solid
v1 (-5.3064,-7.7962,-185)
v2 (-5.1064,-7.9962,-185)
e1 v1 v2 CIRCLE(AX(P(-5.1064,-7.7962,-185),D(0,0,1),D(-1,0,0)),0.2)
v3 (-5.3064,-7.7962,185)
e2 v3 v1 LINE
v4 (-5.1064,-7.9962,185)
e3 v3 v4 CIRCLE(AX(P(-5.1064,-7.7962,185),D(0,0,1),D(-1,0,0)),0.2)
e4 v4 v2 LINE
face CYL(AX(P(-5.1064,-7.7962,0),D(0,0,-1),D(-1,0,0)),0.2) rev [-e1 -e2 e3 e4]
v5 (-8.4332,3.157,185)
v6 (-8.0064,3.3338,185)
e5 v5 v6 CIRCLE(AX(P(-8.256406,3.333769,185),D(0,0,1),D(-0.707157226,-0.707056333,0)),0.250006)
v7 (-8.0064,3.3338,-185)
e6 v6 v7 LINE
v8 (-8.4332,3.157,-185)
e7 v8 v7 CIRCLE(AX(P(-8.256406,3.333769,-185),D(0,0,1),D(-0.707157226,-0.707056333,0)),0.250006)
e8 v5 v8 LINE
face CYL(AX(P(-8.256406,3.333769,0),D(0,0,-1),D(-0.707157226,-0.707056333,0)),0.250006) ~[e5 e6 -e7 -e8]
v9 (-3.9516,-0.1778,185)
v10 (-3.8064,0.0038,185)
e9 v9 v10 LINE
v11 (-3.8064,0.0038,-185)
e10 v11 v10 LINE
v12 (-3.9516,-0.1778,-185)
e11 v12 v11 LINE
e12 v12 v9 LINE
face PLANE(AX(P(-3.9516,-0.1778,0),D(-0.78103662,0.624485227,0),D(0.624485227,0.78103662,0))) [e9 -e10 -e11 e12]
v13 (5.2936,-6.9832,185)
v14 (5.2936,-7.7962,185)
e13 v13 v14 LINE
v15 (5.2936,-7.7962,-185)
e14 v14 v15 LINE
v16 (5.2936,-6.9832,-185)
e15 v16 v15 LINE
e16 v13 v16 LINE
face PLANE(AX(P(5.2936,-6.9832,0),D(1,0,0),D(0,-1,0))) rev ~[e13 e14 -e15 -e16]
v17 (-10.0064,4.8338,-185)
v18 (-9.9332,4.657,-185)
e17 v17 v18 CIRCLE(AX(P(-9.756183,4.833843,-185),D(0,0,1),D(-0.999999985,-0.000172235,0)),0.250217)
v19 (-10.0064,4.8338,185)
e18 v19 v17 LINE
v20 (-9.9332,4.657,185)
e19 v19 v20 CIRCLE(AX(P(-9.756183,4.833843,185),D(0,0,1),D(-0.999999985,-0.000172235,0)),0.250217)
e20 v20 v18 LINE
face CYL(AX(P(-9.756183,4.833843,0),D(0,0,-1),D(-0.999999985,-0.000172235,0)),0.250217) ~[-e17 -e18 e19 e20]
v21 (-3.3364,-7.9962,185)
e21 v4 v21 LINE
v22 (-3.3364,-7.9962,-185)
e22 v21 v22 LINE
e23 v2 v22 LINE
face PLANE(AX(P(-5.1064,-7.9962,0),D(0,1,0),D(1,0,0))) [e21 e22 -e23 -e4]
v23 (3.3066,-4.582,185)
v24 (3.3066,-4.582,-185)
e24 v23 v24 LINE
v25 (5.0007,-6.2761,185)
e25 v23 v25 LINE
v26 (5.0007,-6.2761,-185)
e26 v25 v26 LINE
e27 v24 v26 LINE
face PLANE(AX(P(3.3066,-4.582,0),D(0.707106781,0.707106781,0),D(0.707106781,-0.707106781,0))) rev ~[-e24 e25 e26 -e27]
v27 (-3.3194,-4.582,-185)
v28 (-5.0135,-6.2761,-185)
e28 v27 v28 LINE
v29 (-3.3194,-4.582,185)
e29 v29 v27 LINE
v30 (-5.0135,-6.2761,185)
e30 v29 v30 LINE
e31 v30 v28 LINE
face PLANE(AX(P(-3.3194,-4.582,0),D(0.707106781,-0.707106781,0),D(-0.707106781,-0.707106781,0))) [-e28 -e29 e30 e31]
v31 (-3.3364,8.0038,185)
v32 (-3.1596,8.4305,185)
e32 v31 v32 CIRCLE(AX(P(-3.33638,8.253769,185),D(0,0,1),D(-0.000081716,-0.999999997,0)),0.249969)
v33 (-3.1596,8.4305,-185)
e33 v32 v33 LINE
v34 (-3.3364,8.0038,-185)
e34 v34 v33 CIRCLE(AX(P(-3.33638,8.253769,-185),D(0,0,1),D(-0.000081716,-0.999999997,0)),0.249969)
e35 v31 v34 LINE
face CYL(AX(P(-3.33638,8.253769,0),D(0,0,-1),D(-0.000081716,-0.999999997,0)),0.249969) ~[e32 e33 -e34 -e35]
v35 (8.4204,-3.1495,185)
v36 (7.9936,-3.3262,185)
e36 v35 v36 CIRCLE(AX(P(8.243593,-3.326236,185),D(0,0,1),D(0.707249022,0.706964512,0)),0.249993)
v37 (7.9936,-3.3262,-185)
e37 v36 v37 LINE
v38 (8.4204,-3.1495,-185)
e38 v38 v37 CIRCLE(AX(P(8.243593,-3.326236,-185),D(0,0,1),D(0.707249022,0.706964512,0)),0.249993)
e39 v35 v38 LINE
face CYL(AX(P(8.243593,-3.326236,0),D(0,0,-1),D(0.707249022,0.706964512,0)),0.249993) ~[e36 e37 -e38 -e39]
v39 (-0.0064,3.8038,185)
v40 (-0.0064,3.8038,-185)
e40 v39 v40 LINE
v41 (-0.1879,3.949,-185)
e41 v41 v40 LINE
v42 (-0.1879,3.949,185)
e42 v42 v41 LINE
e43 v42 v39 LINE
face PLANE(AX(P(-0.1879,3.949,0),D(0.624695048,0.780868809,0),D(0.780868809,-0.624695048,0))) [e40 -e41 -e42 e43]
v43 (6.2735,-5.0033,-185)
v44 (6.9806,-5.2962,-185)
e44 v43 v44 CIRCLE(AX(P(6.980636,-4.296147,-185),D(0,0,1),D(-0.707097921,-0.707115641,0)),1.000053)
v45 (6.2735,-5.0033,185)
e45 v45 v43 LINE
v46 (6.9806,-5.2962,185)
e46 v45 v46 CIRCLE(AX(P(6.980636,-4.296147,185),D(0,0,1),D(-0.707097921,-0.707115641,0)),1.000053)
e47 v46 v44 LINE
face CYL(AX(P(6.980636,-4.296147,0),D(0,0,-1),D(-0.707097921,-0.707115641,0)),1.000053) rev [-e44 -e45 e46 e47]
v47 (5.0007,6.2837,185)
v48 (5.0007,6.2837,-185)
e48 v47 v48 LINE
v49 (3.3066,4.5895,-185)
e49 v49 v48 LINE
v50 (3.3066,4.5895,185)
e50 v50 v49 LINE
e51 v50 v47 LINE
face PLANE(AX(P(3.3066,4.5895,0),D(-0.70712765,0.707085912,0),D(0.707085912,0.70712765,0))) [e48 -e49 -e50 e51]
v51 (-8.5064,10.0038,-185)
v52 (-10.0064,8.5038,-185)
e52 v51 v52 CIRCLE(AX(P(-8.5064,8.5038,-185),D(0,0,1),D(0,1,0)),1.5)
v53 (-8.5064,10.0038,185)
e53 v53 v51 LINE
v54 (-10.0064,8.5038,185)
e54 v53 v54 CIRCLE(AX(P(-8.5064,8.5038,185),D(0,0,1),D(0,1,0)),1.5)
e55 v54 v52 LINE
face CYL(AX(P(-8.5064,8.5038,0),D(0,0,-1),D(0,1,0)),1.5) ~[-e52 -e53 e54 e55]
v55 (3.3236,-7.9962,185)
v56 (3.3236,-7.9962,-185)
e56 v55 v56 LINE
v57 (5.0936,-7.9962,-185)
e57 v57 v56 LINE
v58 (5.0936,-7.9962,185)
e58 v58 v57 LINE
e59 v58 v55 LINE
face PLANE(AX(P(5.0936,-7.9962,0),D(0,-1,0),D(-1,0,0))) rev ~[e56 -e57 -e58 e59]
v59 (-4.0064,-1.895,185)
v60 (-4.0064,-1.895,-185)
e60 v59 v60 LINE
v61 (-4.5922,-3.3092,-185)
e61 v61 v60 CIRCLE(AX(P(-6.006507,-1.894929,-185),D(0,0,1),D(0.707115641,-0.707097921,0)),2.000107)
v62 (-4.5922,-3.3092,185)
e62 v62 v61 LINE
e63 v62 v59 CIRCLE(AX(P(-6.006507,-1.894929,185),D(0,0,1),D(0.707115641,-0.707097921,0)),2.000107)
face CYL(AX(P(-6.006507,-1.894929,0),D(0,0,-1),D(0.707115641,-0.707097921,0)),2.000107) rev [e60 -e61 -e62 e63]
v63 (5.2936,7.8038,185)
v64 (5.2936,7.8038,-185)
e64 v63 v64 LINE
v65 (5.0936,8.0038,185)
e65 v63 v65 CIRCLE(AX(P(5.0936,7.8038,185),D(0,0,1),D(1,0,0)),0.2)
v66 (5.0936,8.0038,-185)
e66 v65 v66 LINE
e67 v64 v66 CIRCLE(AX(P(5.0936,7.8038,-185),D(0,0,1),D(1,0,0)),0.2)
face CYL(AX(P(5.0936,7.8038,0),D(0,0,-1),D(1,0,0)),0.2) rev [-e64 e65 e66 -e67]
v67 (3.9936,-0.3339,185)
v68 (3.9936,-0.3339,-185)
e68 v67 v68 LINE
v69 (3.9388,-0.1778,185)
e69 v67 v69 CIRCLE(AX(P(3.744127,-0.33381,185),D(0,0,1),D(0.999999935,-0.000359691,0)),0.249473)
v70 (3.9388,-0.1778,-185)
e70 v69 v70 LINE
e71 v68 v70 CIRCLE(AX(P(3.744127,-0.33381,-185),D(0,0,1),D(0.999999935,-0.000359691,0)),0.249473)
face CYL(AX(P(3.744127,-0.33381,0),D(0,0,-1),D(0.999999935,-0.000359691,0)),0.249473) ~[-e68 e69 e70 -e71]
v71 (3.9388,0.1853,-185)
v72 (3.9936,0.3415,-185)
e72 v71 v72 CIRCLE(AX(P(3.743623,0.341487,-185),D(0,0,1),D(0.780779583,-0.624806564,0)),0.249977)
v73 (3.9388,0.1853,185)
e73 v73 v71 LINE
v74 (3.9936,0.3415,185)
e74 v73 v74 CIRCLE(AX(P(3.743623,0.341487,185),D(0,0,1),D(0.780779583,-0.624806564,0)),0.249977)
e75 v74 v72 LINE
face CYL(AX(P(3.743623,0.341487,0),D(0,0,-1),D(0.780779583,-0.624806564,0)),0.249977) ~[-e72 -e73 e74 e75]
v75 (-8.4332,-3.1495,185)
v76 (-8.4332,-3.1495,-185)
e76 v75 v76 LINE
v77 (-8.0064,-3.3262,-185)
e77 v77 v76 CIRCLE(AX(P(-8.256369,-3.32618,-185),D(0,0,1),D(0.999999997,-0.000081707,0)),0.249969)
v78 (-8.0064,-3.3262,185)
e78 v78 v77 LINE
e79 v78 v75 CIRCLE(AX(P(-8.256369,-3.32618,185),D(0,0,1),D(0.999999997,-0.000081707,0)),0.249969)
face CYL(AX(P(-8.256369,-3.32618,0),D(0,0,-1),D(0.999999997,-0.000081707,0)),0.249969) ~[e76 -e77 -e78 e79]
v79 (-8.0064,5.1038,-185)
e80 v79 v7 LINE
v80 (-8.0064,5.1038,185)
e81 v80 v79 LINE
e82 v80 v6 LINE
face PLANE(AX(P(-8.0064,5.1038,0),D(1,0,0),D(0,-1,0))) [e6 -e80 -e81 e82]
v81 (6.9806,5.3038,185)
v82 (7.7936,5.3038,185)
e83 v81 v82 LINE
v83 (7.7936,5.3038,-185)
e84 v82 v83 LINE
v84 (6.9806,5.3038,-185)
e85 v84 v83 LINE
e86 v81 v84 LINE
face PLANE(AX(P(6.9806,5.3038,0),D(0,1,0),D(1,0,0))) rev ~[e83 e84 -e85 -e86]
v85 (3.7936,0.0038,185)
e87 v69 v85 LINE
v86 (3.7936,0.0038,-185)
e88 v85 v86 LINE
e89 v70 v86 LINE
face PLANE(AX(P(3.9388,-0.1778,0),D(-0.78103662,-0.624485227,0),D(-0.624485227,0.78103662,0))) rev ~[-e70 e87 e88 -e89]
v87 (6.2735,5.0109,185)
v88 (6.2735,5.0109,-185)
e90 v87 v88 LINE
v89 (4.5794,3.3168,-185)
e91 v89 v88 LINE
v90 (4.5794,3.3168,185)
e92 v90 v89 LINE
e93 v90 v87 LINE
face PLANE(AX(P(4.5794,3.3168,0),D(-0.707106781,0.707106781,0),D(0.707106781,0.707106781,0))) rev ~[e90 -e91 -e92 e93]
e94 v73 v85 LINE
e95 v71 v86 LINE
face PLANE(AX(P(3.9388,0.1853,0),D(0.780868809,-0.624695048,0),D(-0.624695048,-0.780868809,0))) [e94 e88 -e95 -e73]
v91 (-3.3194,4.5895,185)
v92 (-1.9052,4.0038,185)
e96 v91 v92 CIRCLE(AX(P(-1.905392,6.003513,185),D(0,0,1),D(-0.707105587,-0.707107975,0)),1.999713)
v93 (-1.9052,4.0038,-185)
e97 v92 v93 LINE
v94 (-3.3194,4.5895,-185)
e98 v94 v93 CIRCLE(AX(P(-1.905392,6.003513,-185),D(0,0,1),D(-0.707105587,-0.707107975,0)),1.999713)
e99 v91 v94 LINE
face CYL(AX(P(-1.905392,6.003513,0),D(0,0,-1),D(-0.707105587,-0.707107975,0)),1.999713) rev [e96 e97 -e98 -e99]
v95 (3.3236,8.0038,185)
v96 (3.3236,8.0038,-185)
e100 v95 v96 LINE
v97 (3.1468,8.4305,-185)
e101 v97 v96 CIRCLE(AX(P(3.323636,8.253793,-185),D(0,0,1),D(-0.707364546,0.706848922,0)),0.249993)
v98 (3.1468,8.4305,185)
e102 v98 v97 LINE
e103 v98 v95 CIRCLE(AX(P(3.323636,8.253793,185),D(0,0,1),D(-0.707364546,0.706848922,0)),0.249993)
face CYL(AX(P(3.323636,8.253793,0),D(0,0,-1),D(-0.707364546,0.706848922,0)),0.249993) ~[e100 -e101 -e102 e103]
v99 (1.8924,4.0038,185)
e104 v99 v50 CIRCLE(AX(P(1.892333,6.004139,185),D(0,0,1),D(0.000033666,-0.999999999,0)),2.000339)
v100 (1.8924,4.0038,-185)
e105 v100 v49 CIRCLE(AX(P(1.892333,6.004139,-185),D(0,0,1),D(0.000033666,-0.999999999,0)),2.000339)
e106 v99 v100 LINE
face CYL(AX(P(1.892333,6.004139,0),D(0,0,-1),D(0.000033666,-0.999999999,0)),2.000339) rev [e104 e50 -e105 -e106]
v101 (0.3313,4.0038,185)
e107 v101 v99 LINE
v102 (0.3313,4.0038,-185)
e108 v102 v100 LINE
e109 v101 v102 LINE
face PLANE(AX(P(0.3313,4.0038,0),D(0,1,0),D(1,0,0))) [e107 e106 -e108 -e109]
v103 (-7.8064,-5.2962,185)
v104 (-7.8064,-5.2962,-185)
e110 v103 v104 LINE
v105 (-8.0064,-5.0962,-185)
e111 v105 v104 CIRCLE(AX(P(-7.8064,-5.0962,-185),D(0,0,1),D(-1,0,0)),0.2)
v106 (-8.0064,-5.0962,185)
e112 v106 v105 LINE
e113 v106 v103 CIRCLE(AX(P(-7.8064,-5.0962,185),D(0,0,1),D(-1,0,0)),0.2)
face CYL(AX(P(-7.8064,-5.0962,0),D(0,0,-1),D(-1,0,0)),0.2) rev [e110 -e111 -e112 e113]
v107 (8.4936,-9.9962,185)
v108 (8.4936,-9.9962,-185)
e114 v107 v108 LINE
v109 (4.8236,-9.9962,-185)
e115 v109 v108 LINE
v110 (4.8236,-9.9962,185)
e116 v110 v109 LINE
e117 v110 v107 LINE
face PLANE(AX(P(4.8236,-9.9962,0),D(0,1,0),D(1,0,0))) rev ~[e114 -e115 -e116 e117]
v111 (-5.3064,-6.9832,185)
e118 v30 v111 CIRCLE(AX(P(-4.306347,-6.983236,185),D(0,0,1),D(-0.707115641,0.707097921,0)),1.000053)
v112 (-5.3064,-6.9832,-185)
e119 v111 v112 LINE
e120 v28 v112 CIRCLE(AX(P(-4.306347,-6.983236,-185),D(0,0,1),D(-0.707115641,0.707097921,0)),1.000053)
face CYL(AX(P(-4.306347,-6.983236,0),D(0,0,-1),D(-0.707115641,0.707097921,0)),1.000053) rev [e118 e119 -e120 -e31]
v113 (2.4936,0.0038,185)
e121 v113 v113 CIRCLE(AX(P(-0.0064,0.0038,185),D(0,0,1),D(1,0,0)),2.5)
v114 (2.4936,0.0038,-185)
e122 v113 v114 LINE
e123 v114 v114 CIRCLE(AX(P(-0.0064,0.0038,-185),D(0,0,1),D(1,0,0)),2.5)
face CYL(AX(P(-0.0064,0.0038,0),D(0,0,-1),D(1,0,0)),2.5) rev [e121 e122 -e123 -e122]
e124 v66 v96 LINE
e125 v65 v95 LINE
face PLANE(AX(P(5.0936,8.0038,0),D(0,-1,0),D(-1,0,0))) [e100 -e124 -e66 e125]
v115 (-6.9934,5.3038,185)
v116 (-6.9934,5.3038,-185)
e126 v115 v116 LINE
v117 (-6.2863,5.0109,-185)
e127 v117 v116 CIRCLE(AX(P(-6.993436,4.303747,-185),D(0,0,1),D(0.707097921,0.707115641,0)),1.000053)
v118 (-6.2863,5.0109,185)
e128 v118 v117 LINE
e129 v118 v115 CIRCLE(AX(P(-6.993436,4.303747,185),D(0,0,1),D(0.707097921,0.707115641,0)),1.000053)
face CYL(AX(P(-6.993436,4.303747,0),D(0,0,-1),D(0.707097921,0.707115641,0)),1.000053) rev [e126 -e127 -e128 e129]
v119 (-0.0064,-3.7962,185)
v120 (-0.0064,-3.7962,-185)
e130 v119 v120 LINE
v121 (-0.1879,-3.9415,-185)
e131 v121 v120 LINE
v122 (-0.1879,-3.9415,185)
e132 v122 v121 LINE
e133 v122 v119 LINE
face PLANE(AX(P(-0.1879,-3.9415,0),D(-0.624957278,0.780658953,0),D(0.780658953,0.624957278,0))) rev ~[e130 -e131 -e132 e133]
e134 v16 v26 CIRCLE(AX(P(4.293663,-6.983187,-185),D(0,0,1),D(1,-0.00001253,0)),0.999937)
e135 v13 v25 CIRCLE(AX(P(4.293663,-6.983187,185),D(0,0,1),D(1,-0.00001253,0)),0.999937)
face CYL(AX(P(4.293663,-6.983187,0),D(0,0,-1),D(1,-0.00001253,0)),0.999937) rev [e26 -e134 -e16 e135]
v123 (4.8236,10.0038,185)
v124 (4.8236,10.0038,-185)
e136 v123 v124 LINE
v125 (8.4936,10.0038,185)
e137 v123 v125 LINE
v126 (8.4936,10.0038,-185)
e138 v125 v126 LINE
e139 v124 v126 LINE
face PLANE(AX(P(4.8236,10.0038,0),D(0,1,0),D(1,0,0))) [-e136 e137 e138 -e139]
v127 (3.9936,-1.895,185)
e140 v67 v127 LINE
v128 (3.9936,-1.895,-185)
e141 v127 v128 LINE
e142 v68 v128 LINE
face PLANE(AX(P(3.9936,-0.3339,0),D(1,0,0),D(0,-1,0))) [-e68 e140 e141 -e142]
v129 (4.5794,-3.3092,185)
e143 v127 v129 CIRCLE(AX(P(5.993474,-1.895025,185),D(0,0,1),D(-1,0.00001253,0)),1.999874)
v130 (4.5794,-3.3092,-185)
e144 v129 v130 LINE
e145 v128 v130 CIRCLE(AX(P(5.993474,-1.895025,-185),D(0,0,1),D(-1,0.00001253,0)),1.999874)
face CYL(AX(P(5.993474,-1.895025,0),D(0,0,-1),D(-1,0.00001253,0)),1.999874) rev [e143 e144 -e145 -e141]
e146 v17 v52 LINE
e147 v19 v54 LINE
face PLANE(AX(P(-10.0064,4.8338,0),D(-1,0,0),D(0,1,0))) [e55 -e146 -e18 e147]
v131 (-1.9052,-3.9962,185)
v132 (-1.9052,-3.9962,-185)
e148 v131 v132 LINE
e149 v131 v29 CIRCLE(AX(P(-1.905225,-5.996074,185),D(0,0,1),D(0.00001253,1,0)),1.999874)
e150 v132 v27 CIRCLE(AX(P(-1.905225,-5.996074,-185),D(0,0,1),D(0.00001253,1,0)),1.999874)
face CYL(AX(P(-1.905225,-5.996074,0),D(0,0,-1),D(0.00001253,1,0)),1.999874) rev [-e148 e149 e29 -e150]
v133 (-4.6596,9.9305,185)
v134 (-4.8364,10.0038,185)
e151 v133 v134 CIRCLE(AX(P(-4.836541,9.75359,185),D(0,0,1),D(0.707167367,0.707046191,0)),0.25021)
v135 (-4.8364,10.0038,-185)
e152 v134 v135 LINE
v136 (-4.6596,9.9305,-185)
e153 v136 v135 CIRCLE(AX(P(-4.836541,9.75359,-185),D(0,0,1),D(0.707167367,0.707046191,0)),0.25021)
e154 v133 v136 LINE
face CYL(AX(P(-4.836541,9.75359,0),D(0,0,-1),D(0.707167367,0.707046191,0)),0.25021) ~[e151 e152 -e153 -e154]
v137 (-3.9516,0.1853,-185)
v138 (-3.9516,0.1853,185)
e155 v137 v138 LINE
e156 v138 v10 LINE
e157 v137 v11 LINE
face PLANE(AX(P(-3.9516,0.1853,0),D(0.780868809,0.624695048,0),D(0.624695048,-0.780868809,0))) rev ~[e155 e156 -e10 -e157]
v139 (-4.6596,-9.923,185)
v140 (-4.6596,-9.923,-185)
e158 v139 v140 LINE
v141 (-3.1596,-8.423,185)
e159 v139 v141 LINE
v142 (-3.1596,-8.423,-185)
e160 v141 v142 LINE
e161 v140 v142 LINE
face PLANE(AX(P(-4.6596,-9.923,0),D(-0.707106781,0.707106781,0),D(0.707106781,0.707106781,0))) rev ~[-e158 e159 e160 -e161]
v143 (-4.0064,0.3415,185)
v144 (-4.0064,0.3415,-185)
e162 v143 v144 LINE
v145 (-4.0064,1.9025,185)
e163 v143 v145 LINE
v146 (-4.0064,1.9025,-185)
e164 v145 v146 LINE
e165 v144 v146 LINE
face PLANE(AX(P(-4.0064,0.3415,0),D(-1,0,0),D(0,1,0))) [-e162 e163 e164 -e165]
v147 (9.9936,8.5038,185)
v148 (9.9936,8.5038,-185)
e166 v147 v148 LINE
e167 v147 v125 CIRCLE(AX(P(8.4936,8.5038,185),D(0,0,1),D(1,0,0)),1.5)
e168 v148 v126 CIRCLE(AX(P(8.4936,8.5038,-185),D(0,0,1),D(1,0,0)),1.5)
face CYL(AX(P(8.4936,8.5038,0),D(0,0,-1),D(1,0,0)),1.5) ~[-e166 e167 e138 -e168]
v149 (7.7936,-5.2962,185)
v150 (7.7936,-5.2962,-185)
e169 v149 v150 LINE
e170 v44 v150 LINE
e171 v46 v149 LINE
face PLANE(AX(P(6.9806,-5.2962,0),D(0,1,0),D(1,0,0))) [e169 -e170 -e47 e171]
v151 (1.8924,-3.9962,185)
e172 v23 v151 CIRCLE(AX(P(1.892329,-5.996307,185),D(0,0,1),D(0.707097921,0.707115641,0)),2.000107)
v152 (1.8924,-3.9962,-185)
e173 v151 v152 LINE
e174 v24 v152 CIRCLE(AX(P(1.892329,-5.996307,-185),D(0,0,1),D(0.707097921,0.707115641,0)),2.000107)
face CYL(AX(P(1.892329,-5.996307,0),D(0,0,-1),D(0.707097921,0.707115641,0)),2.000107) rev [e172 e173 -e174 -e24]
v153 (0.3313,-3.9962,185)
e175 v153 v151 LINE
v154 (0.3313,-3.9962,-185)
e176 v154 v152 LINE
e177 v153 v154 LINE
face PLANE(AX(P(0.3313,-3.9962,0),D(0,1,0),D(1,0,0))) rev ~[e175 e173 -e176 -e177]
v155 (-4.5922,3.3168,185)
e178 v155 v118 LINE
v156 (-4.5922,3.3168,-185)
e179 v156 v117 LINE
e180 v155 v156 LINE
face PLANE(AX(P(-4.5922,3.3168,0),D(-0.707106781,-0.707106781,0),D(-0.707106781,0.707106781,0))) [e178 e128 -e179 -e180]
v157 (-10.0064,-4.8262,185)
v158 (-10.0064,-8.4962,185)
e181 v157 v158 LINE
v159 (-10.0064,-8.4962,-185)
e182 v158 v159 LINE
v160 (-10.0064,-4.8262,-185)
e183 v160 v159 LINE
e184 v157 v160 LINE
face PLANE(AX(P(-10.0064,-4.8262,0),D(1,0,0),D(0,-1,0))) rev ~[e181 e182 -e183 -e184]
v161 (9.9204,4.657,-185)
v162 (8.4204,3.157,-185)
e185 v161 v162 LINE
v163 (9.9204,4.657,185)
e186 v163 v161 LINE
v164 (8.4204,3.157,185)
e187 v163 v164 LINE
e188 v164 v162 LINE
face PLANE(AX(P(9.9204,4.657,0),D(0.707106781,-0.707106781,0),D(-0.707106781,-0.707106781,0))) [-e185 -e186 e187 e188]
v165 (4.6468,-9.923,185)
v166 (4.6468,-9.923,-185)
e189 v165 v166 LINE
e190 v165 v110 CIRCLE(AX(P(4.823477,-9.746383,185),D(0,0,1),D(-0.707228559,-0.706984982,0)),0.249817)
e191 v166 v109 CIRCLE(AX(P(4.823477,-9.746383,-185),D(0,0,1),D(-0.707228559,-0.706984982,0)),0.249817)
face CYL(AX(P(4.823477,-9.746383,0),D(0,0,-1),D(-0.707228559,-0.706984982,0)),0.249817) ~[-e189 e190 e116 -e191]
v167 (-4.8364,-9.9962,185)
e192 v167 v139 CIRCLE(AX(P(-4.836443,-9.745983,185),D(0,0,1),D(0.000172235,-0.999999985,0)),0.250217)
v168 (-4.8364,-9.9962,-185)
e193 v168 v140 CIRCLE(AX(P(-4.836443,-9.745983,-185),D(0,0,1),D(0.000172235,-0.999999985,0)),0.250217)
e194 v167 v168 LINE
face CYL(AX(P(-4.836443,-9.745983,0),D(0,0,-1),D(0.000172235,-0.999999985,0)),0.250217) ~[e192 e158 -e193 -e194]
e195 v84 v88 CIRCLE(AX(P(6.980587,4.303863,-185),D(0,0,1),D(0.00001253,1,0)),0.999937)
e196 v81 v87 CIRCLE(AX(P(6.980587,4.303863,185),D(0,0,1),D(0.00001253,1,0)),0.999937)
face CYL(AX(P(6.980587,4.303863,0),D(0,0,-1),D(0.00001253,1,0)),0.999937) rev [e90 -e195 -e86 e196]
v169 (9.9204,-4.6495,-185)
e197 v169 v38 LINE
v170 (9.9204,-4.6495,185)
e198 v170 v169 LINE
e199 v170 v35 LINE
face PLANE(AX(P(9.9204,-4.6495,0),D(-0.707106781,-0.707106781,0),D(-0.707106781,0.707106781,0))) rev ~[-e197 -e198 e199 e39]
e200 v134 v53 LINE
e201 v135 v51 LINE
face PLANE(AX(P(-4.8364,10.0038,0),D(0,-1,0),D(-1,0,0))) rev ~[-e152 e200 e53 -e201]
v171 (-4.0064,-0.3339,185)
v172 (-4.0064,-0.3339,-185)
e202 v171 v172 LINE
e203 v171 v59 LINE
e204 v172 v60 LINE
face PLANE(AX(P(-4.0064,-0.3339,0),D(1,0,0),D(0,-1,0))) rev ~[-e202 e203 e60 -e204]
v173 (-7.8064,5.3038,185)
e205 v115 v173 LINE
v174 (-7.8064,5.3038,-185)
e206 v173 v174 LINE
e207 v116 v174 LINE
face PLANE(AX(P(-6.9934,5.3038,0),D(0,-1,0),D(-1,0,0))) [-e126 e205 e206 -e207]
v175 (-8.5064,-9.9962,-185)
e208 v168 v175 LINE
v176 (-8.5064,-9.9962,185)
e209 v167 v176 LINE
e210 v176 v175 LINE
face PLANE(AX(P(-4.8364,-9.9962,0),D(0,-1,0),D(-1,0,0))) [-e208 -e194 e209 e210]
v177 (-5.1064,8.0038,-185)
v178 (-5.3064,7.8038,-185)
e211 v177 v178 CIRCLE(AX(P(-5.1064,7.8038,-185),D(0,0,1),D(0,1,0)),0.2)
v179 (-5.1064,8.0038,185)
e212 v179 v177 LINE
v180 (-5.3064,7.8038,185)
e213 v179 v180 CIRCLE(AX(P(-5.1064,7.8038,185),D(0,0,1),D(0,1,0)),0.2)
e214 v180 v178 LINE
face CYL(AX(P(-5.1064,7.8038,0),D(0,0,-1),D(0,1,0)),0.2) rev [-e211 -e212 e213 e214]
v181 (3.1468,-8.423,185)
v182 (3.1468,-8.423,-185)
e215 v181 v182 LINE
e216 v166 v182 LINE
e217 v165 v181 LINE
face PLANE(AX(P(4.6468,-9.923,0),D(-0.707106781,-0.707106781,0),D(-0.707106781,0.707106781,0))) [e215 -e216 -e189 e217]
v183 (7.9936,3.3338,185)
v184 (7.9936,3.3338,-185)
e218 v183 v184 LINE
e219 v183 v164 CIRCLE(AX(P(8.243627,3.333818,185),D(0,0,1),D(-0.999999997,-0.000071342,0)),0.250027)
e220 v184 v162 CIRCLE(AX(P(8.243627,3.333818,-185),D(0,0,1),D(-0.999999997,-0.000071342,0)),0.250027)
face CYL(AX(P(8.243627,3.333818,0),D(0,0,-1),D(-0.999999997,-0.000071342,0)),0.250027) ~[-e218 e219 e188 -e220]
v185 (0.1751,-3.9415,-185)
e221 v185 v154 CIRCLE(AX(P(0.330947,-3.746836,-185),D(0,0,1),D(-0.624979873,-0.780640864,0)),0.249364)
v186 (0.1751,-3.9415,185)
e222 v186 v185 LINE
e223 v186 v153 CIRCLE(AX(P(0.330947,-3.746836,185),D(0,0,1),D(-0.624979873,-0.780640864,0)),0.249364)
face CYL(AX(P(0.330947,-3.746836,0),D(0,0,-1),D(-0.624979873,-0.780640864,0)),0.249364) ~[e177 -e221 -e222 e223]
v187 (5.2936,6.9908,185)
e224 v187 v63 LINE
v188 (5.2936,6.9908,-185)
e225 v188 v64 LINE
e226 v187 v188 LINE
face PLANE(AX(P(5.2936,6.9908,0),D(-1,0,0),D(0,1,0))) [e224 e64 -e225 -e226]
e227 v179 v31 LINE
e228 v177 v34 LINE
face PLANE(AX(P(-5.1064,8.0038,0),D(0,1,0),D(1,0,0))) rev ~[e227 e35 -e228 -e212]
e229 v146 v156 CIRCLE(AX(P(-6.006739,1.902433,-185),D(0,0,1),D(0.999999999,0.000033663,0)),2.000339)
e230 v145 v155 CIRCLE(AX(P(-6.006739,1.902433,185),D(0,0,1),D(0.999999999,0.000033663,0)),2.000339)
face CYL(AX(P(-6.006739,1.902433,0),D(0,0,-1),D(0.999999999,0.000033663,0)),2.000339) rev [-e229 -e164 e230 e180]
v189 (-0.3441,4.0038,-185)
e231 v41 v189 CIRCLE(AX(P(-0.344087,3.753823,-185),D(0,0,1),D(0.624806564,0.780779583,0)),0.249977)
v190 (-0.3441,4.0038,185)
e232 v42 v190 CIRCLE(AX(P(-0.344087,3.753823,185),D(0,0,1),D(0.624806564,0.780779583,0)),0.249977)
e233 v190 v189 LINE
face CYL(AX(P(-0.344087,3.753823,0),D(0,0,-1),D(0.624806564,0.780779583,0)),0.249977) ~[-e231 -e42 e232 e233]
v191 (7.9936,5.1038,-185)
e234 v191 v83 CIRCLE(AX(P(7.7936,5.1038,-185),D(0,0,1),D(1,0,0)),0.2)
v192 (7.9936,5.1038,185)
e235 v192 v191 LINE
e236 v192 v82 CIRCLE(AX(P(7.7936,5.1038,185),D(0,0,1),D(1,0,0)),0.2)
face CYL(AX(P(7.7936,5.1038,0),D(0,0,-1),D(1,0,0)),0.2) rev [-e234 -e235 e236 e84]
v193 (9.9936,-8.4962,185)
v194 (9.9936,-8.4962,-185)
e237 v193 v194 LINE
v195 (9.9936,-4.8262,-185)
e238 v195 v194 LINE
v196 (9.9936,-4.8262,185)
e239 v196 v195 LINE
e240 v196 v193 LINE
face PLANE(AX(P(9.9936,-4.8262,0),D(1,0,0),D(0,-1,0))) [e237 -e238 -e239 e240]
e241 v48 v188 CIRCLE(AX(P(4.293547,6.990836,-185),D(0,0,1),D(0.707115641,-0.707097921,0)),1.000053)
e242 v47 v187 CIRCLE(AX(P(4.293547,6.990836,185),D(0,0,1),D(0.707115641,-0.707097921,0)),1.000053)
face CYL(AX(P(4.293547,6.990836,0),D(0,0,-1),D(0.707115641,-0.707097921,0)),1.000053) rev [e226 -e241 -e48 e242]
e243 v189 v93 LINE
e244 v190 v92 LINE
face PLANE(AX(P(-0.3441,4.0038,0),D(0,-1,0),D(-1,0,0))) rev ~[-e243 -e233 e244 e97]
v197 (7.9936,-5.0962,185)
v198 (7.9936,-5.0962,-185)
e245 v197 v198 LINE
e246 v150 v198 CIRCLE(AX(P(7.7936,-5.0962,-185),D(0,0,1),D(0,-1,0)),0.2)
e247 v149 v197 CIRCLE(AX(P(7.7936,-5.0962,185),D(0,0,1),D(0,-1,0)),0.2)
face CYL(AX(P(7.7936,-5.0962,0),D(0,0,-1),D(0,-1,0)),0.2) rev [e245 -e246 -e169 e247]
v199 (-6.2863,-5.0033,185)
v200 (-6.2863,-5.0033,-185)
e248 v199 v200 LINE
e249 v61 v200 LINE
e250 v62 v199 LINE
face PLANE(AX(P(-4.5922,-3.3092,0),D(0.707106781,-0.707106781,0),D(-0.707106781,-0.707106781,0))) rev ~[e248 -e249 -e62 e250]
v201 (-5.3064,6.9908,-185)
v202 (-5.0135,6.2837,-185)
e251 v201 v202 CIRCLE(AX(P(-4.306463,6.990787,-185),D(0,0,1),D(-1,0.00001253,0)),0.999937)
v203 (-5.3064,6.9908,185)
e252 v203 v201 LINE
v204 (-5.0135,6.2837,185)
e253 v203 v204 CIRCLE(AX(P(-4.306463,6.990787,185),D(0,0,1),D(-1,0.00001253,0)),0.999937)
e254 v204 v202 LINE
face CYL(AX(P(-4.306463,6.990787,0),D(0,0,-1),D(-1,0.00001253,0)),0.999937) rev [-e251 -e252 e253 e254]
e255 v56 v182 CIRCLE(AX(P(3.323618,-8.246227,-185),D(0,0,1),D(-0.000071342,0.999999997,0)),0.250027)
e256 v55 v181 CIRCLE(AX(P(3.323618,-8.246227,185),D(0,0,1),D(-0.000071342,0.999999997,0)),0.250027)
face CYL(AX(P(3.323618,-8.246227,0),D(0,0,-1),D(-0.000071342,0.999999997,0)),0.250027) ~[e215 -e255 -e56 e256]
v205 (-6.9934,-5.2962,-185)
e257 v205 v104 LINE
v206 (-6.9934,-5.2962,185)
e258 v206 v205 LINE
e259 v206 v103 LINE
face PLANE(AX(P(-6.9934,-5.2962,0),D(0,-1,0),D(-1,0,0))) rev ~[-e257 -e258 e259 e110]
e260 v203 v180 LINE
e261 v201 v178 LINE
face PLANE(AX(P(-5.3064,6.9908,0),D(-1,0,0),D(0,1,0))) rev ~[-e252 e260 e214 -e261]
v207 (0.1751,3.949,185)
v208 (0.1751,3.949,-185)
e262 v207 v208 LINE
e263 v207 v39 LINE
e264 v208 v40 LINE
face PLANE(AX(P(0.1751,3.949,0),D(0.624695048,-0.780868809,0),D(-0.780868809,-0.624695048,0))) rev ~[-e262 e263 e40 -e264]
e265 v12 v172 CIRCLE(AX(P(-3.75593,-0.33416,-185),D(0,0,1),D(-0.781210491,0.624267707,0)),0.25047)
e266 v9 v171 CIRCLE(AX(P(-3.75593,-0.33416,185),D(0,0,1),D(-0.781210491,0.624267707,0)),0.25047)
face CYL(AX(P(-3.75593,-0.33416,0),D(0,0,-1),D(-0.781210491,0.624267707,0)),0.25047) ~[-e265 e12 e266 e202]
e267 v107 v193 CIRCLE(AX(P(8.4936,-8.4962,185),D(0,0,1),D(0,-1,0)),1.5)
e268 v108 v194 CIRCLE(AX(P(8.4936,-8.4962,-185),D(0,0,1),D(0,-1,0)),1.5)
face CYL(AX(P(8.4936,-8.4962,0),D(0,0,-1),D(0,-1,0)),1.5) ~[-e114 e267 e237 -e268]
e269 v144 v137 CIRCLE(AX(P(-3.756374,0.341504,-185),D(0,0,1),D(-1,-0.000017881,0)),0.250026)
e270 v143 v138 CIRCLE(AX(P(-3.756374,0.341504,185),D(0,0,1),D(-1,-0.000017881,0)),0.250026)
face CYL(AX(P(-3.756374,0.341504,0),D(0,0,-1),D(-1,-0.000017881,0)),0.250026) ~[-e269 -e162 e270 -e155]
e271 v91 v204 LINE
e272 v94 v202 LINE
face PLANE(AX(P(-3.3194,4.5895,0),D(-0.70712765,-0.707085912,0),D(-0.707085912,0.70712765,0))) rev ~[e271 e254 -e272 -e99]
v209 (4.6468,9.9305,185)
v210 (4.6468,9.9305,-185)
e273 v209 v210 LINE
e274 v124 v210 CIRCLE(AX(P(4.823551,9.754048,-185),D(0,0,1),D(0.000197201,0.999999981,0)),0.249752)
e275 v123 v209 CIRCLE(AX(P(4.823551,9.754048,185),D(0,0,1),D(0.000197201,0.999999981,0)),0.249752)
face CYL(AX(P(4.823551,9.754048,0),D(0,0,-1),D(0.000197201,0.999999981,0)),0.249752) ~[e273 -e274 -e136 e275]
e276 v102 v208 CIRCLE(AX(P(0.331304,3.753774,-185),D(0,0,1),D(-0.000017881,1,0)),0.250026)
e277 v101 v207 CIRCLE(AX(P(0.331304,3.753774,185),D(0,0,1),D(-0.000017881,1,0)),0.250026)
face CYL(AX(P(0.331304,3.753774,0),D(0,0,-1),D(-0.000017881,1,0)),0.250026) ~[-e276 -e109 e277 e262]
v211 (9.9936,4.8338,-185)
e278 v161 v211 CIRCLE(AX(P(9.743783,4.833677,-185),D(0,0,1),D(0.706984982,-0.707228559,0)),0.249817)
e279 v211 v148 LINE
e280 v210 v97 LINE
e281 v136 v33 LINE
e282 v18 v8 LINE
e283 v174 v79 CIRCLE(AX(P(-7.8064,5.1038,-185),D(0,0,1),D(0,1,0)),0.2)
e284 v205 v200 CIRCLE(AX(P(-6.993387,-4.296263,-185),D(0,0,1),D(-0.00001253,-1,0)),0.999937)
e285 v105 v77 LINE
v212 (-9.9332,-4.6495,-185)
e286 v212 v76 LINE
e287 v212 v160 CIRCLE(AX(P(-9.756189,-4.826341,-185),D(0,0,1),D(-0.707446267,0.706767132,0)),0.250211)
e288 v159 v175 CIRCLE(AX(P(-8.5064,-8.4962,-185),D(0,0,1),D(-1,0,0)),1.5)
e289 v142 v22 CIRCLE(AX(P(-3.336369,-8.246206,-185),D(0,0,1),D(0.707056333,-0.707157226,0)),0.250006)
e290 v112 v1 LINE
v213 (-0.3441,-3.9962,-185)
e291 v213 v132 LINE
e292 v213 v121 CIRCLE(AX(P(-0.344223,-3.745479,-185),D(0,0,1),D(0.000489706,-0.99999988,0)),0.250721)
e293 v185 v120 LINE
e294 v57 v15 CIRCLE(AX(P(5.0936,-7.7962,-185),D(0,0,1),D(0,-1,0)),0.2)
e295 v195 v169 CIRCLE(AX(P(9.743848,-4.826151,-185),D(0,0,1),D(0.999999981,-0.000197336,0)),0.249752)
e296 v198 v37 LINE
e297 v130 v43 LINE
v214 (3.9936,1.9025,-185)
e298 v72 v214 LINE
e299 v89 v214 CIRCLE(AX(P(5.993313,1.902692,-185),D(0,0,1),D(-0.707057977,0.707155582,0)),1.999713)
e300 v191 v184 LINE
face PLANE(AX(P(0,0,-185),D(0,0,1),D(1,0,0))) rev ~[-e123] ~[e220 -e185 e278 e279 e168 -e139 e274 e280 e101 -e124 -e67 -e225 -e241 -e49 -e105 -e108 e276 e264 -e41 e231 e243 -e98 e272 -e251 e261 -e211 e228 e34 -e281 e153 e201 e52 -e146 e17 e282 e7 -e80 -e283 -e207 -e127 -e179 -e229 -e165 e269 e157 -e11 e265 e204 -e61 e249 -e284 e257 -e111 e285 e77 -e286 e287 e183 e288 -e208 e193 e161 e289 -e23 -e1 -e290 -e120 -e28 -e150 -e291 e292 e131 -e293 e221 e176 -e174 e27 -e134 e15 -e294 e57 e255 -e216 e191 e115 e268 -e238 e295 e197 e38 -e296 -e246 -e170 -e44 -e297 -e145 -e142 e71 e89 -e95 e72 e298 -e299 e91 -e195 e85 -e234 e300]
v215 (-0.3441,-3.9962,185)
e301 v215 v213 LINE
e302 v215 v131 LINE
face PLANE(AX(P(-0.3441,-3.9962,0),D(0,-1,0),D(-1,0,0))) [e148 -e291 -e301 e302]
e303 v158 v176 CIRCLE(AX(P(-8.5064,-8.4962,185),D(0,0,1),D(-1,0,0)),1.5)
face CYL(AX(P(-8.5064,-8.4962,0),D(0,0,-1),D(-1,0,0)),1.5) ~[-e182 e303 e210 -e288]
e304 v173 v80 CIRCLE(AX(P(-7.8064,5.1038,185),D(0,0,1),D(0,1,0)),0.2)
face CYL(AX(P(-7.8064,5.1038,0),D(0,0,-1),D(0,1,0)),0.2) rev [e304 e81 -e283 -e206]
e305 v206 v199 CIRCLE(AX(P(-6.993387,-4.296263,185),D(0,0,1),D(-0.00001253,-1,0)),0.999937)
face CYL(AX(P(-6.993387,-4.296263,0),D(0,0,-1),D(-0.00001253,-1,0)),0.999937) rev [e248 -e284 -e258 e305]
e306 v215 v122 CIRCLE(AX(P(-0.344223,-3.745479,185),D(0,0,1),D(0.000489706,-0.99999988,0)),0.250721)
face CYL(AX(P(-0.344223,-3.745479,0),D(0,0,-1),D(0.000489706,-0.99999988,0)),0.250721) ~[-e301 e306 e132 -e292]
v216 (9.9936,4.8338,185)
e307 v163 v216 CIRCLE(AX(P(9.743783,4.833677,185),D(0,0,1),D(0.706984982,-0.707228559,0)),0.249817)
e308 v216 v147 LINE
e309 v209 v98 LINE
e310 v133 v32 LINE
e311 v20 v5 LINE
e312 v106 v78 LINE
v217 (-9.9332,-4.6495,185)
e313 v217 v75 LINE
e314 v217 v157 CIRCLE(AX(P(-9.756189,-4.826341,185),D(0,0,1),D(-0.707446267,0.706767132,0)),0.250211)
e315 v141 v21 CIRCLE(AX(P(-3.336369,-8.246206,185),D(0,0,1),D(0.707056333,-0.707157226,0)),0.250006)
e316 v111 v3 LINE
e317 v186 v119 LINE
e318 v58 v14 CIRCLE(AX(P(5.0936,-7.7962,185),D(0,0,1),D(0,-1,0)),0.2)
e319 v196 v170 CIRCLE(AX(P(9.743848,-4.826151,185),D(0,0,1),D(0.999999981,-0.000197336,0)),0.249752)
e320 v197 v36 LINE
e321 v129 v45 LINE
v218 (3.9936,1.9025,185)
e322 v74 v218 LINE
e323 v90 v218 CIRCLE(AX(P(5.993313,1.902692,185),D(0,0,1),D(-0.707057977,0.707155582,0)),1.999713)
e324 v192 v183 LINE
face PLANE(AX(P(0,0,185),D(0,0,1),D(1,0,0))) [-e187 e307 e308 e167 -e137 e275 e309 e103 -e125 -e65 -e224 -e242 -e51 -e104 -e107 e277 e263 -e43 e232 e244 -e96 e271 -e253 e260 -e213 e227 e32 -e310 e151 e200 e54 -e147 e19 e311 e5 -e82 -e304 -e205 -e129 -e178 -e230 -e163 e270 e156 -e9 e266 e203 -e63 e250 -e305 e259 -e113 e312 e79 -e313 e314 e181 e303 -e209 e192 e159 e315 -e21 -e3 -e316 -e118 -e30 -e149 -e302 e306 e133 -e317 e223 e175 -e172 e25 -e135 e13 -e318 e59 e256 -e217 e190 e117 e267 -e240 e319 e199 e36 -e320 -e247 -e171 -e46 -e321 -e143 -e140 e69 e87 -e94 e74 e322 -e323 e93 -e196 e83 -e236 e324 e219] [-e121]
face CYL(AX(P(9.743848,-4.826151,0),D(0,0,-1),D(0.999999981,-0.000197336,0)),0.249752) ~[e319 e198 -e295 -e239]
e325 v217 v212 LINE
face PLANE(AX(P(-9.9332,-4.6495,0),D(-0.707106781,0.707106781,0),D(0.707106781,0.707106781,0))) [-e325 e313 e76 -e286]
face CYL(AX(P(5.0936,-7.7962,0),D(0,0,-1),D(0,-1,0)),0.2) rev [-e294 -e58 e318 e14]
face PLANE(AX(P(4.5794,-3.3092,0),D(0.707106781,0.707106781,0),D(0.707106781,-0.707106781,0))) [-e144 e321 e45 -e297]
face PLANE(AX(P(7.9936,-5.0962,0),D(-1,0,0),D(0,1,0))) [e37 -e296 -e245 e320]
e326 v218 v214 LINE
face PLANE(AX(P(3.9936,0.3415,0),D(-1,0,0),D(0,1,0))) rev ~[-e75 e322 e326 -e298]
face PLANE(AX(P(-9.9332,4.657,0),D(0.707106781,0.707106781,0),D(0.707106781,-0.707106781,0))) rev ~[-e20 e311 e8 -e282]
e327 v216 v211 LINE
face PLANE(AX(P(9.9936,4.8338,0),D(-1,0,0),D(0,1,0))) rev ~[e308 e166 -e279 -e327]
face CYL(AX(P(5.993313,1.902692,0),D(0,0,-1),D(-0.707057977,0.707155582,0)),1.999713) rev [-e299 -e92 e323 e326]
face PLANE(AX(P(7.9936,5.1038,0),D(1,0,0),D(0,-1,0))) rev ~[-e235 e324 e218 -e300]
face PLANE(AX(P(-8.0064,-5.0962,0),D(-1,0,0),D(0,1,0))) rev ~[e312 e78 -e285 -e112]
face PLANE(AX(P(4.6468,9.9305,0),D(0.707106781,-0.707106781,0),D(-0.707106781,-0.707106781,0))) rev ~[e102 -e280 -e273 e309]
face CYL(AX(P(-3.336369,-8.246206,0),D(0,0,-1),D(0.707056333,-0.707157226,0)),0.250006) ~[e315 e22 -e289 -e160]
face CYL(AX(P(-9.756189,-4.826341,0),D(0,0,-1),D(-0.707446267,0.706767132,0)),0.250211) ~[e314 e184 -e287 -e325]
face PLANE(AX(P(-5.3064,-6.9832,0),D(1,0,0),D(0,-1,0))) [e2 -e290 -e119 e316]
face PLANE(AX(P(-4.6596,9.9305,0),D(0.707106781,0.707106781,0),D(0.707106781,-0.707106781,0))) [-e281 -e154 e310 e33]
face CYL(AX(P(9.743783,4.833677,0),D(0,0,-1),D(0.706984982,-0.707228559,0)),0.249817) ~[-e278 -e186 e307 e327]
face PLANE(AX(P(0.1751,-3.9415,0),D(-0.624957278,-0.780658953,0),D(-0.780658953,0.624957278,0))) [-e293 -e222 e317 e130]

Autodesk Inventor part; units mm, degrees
ref_plane "YZ Plane" through (0, 0, 0) normal (1, 0, 0) x (0, 1, 0)
ref_plane "XZ Plane" through (0, 0, 0) normal (0, 1, 0) x (-1, 0, 0)
ref_plane "XY Plane" through (0, 0, 0) normal (0, 0, 1) x (1, 0, 0)
sketch "Эскиз1" plane through (0, 0, 0) normal (0, 0, 1) x (1, 0, 0)
  line L0 (-3.9516, 0.1853) -> (-3.8064, 0.0038)
  line L1 (-3.9516, -0.1778) -> (-3.8064, 0.0038)
  arc A0 (-3.9516, -0.1778) -> (-4.0064, -0.3339) centre (-3.7564, -0.3339) ccw
  line L2 (-4.0064, -0.3339) -> (-4.0064, -1.895)
  arc A1 (-4.5922, -3.3092) -> (-4.0064, -1.895) centre (-6.0064, -1.895) ccw
  line L3 (-4.5922, -3.3092) -> (-6.2863, -5.0033)
  arc A2 (-6.9934, -5.2962) -> (-6.2863, -5.0033) centre (-6.9934, -4.2962) ccw
  line L4 (-6.9934, -5.2962) -> (-7.8064, -5.2962)
  arc A3 (-8.0064, -5.0962) -> (-7.8064, -5.2962) centre (-7.8064, -5.0962) ccw
  line L5 (-8.0064, -5.0962) -> (-8.0064, -3.3262)
  arc A4 (-8.0064, -3.3262) -> (-8.4332, -3.1495) centre (-8.2564, -3.3262) ccw
  line L6 (-9.9332, -4.6495) -> (-8.4332, -3.1495)
  arc A5 (-9.9332, -4.6495) -> (-10.0064, -4.8262) centre (-9.7564, -4.8262) ccw
  line L7 (-10.0064, -4.8262) -> (-10.0064, -8.4962)
  arc A6 (-10.0064, -8.4962) -> (-8.5064, -9.9962) centre (-8.5064, -8.4962) ccw
  line L8 (-4.8364, -9.9962) -> (-8.5064, -9.9962)
  arc A7 (-4.8364, -9.9962) -> (-4.6596, -9.923) centre (-4.8364, -9.7462) ccw
  line L9 (-4.6596, -9.923) -> (-3.1596, -8.423)
  arc A8 (-3.1596, -8.423) -> (-3.3364, -7.9962) centre (-3.3364, -8.2462) ccw
  line L10 (-5.1064, -7.9962) -> (-3.3364, -7.9962)
  arc A9 (-5.3064, -7.7962) -> (-5.1064, -7.9962) centre (-5.1064, -7.7962) ccw
  line L11 (-5.3064, -6.9832) -> (-5.3064, -7.7962)
  arc A10 (-5.0135, -6.2761) -> (-5.3064, -6.9832) centre (-4.3064, -6.9832) ccw
  line L12 (-3.3194, -4.582) -> (-5.0135, -6.2761)
  arc A11 (-1.9052, -3.9962) -> (-3.3194, -4.582) centre (-1.9052, -5.9962) ccw
  line L13 (-0.3441, -3.9962) -> (-1.9052, -3.9962)
  arc A12 (-0.3441, -3.9962) -> (-0.1879, -3.9415) centre (-0.3441, -3.7462) ccw
  line L14 (-0.1879, -3.9415) -> (-0.0064, -3.7962)
  line L15 (0.1751, -3.9415) -> (-0.0064, -3.7962)
  arc A13 (0.1751, -3.9415) -> (0.3313, -3.9962) centre (0.3313, -3.7462) ccw
  line L16 (0.3313, -3.9962) -> (1.8924, -3.9962)
  arc A14 (3.3066, -4.582) -> (1.8924, -3.9962) centre (1.8924, -5.9962) ccw
  line L17 (3.3066, -4.582) -> (5.0007, -6.2761)
  arc A15 (5.2936, -6.9832) -> (5.0007, -6.2761) centre (4.2936, -6.9832) ccw
  line L18 (5.2936, -6.9832) -> (5.2936, -7.7962)
  arc A16 (5.0936, -7.9962) -> (5.2936, -7.7962) centre (5.0936, -7.7962) ccw
  line L19 (5.0936, -7.9962) -> (3.3236, -7.9962)
  arc A17 (3.3236, -7.9962) -> (3.1468, -8.423) centre (3.3236, -8.2462) ccw
  line L20 (4.6468, -9.923) -> (3.1468, -8.423)
  arc A18 (4.6468, -9.923) -> (4.8236, -9.9962) centre (4.8236, -9.7462) ccw
  line L21 (4.8236, -9.9962) -> (8.4936, -9.9962)
  arc A19 (8.4936, -9.9962) -> (9.9936, -8.4962) centre (8.4936, -8.4962) ccw
  line L22 (9.9936, -4.8262) -> (9.9936, -8.4962)
  arc A20 (9.9936, -4.8262) -> (9.9204, -4.6495) centre (9.7436, -4.8262) ccw
  line L23 (9.9204, -4.6495) -> (8.4204, -3.1495)
  arc A21 (8.4204, -3.1495) -> (7.9936, -3.3262) centre (8.2436, -3.3262) ccw
  line L24 (7.9936, -5.0962) -> (7.9936, -3.3262)
  arc A22 (7.7936, -5.2962) -> (7.9936, -5.0962) centre (7.7936, -5.0962) ccw
  line L25 (6.9806, -5.2962) -> (7.7936, -5.2962)
  arc A23 (6.2735, -5.0033) -> (6.9806, -5.2962) centre (6.9806, -4.2962) ccw
  line L26 (4.5794, -3.3092) -> (6.2735, -5.0033)
  arc A24 (3.9936, -1.895) -> (4.5794, -3.3092) centre (5.9936, -1.895) ccw
  line L27 (3.9936, -0.3339) -> (3.9936, -1.895)
  arc A25 (3.9936, -0.3339) -> (3.9388, -0.1778) centre (3.7436, -0.3339) ccw
  line L28 (3.9388, -0.1778) -> (3.7936, 0.0038)
  line L29 (3.9388, 0.1853) -> (3.7936, 0.0038)
  arc A26 (3.9388, 0.1853) -> (3.9936, 0.3415) centre (3.7436, 0.3415) ccw
  line L30 (3.9936, 0.3415) -> (3.9936, 1.9025)
  arc A27 (4.5794, 3.3168) -> (3.9936, 1.9025) centre (5.9936, 1.9025) ccw
  line L31 (4.5794, 3.3168) -> (6.2735, 5.0109)
  arc A28 (6.9806, 5.3038) -> (6.2735, 5.0109) centre (6.9806, 4.3038) ccw
  line L32 (6.9806, 5.3038) -> (7.7936, 5.3038)
  arc A29 (7.9936, 5.1038) -> (7.7936, 5.3038) centre (7.7936, 5.1038) ccw
  line L33 (7.9936, 5.1038) -> (7.9936, 3.3338)
  arc A30 (7.9936, 3.3338) -> (8.4204, 3.157) centre (8.2436, 3.3338) ccw
  line L34 (9.9204, 4.657) -> (8.4204, 3.157)
  arc A31 (9.9204, 4.657) -> (9.9936, 4.8338) centre (9.7436, 4.8338) ccw
  line L35 (9.9936, 4.8338) -> (9.9936, 8.5038)
  arc A32 (9.9936, 8.5038) -> (8.4936, 10.0038) centre (8.4936, 8.5038) ccw
  line L36 (4.8236, 10.0038) -> (8.4936, 10.0038)
  arc A33 (4.8236, 10.0038) -> (4.6468, 9.9305) centre (4.8236, 9.7538) ccw
  line L37 (4.6468, 9.9305) -> (3.1468, 8.4305)
  arc A34 (3.1468, 8.4305) -> (3.3236, 8.0038) centre (3.3236, 8.2538) ccw
  line L38 (5.0936, 8.0038) -> (3.3236, 8.0038)
  arc A35 (5.2936, 7.8038) -> (5.0936, 8.0038) centre (5.0936, 7.8038) ccw
  line L39 (5.2936, 6.9908) -> (5.2936, 7.8038)
  arc A36 (5.0007, 6.2837) -> (5.2936, 6.9908) centre (4.2936, 6.9908) ccw
  line L40 (3.3066, 4.5895) -> (5.0007, 6.2837)
  arc A37 (1.8924, 4.0038) -> (3.3066, 4.5895) centre (1.8924, 6.0038) ccw
  line L41 (0.3313, 4.0038) -> (1.8924, 4.0038)
  arc A38 (0.3313, 4.0038) -> (0.1751, 3.949) centre (0.3313, 3.7538) ccw
  line L42 (0.1751, 3.949) -> (-0.0064, 3.8038)
  line L43 (-0.1879, 3.949) -> (-0.0064, 3.8038)
  arc A39 (-0.1879, 3.949) -> (-0.3441, 4.0038) centre (-0.3441, 3.7538) ccw
  line L44 (-0.3441, 4.0038) -> (-1.9052, 4.0038)
  arc A40 (-3.3194, 4.5895) -> (-1.9052, 4.0038) centre (-1.9052, 6.0038) ccw
  line L45 (-3.3194, 4.5895) -> (-5.0135, 6.2837)
  arc A41 (-5.3064, 6.9908) -> (-5.0135, 6.2837) centre (-4.3064, 6.9908) ccw
  line L46 (-5.3064, 6.9908) -> (-5.3064, 7.8038)
  arc A42 (-5.1064, 8.0038) -> (-5.3064, 7.8038) centre (-5.1064, 7.8038) ccw
  line L47 (-5.1064, 8.0038) -> (-3.3364, 8.0038)
  arc A43 (-3.3364, 8.0038) -> (-3.1596, 8.4305) centre (-3.3364, 8.2538) ccw
  line L48 (-4.6596, 9.9305) -> (-3.1596, 8.4305)
  arc A44 (-4.6596, 9.9305) -> (-4.8364, 10.0038) centre (-4.8364, 9.7538) ccw
  line L49 (-4.8364, 10.0038) -> (-8.5064, 10.0038)
  arc A45 (-8.5064, 10.0038) -> (-10.0064, 8.5038) centre (-8.5064, 8.5038) ccw
  line L50 (-10.0064, 4.8338) -> (-10.0064, 8.5038)
  arc A46 (-10.0064, 4.8338) -> (-9.9332, 4.657) centre (-9.7564, 4.8338) ccw
  line L51 (-9.9332, 4.657) -> (-8.4332, 3.157)
  arc A47 (-8.4332, 3.157) -> (-8.0064, 3.3338) centre (-8.2564, 3.3338) ccw
  line L52 (-8.0064, 5.1038) -> (-8.0064, 3.3338)
  arc A48 (-7.8064, 5.3038) -> (-8.0064, 5.1038) centre (-7.8064, 5.1038) ccw
  line L53 (-6.9934, 5.3038) -> (-7.8064, 5.3038)
  arc A49 (-6.2863, 5.0109) -> (-6.9934, 5.3038) centre (-6.9934, 4.3038) ccw
  line L54 (-4.5922, 3.3168) -> (-6.2863, 5.0109)
  arc A50 (-4.0064, 1.9025) -> (-4.5922, 3.3168) centre (-6.0064, 1.9025) ccw
  line L55 (-4.0064, 0.3415) -> (-4.0064, 1.9025)
  arc A51 (-4.0064, 0.3415) -> (-3.9516, 0.1853) centre (-3.7564, 0.3415) ccw
  circle A52 centre (-0.0064, 0.0038) radius 2.5
  point P0 (0, 0)
  point P1 (-0.0064, 0.0038)
  dimension "d0" = 0.25
  dimension "d1" = 1.5
  dimension "d2" = 0.2
  dimension "d3" = 1
  dimension "d4" = 2
  dimension "d5" = 5
  dimension "d6" = 135
  dimension "d7" = 38.66
  dimension "d8" = 38.66
  dimension "d9" = 45
  dimension "d10" = 2
  dimension "d11" = 4.7
  dimension "d12" = 14
  dimension "d13" = 15.3
  dimension "d14" = 20
  dimension "d15" = 2.829
  dimension "d16" = 4.629
  dimension "d17" = 7.4579
  dimension "d18" = 2.829
  dimension "d19" = 4.629
  dimension "d20" = 7.4579
  dimension "d21" = 10.6
  dimension "d22" = 4.7
  dimension "d23" = 15.3
  dimension "d24" = 2.7
  dimension "d25" = 13.3
  dimension "d26" = 5.9346
  dimension "d27" = 5.9346
  dimension "d28" = 5.9346
  dimension "d29" = 5.9346
  dimension "d30" = 9.9936
  dimension "d31" = 3.7218
  dimension "d32" = 3.7271
  dimension "d33" = 5.3038
  dimension "d34" = 2.96
  dimension "d35" = 2.9647
  dimension "d36" = 2.9742
  dimension "d37" = 2.9684
  dimension "d38" = 8.0064
  dimension "d39" = 10
  dimension "d40" = 3.729
  dimension "d41" = 10
  dimension "d42" = 3.729
extrude "Выдавливание1" add sketch "Эскиз1" along normal mid plane 370
properties part number "AP20x20x500"
